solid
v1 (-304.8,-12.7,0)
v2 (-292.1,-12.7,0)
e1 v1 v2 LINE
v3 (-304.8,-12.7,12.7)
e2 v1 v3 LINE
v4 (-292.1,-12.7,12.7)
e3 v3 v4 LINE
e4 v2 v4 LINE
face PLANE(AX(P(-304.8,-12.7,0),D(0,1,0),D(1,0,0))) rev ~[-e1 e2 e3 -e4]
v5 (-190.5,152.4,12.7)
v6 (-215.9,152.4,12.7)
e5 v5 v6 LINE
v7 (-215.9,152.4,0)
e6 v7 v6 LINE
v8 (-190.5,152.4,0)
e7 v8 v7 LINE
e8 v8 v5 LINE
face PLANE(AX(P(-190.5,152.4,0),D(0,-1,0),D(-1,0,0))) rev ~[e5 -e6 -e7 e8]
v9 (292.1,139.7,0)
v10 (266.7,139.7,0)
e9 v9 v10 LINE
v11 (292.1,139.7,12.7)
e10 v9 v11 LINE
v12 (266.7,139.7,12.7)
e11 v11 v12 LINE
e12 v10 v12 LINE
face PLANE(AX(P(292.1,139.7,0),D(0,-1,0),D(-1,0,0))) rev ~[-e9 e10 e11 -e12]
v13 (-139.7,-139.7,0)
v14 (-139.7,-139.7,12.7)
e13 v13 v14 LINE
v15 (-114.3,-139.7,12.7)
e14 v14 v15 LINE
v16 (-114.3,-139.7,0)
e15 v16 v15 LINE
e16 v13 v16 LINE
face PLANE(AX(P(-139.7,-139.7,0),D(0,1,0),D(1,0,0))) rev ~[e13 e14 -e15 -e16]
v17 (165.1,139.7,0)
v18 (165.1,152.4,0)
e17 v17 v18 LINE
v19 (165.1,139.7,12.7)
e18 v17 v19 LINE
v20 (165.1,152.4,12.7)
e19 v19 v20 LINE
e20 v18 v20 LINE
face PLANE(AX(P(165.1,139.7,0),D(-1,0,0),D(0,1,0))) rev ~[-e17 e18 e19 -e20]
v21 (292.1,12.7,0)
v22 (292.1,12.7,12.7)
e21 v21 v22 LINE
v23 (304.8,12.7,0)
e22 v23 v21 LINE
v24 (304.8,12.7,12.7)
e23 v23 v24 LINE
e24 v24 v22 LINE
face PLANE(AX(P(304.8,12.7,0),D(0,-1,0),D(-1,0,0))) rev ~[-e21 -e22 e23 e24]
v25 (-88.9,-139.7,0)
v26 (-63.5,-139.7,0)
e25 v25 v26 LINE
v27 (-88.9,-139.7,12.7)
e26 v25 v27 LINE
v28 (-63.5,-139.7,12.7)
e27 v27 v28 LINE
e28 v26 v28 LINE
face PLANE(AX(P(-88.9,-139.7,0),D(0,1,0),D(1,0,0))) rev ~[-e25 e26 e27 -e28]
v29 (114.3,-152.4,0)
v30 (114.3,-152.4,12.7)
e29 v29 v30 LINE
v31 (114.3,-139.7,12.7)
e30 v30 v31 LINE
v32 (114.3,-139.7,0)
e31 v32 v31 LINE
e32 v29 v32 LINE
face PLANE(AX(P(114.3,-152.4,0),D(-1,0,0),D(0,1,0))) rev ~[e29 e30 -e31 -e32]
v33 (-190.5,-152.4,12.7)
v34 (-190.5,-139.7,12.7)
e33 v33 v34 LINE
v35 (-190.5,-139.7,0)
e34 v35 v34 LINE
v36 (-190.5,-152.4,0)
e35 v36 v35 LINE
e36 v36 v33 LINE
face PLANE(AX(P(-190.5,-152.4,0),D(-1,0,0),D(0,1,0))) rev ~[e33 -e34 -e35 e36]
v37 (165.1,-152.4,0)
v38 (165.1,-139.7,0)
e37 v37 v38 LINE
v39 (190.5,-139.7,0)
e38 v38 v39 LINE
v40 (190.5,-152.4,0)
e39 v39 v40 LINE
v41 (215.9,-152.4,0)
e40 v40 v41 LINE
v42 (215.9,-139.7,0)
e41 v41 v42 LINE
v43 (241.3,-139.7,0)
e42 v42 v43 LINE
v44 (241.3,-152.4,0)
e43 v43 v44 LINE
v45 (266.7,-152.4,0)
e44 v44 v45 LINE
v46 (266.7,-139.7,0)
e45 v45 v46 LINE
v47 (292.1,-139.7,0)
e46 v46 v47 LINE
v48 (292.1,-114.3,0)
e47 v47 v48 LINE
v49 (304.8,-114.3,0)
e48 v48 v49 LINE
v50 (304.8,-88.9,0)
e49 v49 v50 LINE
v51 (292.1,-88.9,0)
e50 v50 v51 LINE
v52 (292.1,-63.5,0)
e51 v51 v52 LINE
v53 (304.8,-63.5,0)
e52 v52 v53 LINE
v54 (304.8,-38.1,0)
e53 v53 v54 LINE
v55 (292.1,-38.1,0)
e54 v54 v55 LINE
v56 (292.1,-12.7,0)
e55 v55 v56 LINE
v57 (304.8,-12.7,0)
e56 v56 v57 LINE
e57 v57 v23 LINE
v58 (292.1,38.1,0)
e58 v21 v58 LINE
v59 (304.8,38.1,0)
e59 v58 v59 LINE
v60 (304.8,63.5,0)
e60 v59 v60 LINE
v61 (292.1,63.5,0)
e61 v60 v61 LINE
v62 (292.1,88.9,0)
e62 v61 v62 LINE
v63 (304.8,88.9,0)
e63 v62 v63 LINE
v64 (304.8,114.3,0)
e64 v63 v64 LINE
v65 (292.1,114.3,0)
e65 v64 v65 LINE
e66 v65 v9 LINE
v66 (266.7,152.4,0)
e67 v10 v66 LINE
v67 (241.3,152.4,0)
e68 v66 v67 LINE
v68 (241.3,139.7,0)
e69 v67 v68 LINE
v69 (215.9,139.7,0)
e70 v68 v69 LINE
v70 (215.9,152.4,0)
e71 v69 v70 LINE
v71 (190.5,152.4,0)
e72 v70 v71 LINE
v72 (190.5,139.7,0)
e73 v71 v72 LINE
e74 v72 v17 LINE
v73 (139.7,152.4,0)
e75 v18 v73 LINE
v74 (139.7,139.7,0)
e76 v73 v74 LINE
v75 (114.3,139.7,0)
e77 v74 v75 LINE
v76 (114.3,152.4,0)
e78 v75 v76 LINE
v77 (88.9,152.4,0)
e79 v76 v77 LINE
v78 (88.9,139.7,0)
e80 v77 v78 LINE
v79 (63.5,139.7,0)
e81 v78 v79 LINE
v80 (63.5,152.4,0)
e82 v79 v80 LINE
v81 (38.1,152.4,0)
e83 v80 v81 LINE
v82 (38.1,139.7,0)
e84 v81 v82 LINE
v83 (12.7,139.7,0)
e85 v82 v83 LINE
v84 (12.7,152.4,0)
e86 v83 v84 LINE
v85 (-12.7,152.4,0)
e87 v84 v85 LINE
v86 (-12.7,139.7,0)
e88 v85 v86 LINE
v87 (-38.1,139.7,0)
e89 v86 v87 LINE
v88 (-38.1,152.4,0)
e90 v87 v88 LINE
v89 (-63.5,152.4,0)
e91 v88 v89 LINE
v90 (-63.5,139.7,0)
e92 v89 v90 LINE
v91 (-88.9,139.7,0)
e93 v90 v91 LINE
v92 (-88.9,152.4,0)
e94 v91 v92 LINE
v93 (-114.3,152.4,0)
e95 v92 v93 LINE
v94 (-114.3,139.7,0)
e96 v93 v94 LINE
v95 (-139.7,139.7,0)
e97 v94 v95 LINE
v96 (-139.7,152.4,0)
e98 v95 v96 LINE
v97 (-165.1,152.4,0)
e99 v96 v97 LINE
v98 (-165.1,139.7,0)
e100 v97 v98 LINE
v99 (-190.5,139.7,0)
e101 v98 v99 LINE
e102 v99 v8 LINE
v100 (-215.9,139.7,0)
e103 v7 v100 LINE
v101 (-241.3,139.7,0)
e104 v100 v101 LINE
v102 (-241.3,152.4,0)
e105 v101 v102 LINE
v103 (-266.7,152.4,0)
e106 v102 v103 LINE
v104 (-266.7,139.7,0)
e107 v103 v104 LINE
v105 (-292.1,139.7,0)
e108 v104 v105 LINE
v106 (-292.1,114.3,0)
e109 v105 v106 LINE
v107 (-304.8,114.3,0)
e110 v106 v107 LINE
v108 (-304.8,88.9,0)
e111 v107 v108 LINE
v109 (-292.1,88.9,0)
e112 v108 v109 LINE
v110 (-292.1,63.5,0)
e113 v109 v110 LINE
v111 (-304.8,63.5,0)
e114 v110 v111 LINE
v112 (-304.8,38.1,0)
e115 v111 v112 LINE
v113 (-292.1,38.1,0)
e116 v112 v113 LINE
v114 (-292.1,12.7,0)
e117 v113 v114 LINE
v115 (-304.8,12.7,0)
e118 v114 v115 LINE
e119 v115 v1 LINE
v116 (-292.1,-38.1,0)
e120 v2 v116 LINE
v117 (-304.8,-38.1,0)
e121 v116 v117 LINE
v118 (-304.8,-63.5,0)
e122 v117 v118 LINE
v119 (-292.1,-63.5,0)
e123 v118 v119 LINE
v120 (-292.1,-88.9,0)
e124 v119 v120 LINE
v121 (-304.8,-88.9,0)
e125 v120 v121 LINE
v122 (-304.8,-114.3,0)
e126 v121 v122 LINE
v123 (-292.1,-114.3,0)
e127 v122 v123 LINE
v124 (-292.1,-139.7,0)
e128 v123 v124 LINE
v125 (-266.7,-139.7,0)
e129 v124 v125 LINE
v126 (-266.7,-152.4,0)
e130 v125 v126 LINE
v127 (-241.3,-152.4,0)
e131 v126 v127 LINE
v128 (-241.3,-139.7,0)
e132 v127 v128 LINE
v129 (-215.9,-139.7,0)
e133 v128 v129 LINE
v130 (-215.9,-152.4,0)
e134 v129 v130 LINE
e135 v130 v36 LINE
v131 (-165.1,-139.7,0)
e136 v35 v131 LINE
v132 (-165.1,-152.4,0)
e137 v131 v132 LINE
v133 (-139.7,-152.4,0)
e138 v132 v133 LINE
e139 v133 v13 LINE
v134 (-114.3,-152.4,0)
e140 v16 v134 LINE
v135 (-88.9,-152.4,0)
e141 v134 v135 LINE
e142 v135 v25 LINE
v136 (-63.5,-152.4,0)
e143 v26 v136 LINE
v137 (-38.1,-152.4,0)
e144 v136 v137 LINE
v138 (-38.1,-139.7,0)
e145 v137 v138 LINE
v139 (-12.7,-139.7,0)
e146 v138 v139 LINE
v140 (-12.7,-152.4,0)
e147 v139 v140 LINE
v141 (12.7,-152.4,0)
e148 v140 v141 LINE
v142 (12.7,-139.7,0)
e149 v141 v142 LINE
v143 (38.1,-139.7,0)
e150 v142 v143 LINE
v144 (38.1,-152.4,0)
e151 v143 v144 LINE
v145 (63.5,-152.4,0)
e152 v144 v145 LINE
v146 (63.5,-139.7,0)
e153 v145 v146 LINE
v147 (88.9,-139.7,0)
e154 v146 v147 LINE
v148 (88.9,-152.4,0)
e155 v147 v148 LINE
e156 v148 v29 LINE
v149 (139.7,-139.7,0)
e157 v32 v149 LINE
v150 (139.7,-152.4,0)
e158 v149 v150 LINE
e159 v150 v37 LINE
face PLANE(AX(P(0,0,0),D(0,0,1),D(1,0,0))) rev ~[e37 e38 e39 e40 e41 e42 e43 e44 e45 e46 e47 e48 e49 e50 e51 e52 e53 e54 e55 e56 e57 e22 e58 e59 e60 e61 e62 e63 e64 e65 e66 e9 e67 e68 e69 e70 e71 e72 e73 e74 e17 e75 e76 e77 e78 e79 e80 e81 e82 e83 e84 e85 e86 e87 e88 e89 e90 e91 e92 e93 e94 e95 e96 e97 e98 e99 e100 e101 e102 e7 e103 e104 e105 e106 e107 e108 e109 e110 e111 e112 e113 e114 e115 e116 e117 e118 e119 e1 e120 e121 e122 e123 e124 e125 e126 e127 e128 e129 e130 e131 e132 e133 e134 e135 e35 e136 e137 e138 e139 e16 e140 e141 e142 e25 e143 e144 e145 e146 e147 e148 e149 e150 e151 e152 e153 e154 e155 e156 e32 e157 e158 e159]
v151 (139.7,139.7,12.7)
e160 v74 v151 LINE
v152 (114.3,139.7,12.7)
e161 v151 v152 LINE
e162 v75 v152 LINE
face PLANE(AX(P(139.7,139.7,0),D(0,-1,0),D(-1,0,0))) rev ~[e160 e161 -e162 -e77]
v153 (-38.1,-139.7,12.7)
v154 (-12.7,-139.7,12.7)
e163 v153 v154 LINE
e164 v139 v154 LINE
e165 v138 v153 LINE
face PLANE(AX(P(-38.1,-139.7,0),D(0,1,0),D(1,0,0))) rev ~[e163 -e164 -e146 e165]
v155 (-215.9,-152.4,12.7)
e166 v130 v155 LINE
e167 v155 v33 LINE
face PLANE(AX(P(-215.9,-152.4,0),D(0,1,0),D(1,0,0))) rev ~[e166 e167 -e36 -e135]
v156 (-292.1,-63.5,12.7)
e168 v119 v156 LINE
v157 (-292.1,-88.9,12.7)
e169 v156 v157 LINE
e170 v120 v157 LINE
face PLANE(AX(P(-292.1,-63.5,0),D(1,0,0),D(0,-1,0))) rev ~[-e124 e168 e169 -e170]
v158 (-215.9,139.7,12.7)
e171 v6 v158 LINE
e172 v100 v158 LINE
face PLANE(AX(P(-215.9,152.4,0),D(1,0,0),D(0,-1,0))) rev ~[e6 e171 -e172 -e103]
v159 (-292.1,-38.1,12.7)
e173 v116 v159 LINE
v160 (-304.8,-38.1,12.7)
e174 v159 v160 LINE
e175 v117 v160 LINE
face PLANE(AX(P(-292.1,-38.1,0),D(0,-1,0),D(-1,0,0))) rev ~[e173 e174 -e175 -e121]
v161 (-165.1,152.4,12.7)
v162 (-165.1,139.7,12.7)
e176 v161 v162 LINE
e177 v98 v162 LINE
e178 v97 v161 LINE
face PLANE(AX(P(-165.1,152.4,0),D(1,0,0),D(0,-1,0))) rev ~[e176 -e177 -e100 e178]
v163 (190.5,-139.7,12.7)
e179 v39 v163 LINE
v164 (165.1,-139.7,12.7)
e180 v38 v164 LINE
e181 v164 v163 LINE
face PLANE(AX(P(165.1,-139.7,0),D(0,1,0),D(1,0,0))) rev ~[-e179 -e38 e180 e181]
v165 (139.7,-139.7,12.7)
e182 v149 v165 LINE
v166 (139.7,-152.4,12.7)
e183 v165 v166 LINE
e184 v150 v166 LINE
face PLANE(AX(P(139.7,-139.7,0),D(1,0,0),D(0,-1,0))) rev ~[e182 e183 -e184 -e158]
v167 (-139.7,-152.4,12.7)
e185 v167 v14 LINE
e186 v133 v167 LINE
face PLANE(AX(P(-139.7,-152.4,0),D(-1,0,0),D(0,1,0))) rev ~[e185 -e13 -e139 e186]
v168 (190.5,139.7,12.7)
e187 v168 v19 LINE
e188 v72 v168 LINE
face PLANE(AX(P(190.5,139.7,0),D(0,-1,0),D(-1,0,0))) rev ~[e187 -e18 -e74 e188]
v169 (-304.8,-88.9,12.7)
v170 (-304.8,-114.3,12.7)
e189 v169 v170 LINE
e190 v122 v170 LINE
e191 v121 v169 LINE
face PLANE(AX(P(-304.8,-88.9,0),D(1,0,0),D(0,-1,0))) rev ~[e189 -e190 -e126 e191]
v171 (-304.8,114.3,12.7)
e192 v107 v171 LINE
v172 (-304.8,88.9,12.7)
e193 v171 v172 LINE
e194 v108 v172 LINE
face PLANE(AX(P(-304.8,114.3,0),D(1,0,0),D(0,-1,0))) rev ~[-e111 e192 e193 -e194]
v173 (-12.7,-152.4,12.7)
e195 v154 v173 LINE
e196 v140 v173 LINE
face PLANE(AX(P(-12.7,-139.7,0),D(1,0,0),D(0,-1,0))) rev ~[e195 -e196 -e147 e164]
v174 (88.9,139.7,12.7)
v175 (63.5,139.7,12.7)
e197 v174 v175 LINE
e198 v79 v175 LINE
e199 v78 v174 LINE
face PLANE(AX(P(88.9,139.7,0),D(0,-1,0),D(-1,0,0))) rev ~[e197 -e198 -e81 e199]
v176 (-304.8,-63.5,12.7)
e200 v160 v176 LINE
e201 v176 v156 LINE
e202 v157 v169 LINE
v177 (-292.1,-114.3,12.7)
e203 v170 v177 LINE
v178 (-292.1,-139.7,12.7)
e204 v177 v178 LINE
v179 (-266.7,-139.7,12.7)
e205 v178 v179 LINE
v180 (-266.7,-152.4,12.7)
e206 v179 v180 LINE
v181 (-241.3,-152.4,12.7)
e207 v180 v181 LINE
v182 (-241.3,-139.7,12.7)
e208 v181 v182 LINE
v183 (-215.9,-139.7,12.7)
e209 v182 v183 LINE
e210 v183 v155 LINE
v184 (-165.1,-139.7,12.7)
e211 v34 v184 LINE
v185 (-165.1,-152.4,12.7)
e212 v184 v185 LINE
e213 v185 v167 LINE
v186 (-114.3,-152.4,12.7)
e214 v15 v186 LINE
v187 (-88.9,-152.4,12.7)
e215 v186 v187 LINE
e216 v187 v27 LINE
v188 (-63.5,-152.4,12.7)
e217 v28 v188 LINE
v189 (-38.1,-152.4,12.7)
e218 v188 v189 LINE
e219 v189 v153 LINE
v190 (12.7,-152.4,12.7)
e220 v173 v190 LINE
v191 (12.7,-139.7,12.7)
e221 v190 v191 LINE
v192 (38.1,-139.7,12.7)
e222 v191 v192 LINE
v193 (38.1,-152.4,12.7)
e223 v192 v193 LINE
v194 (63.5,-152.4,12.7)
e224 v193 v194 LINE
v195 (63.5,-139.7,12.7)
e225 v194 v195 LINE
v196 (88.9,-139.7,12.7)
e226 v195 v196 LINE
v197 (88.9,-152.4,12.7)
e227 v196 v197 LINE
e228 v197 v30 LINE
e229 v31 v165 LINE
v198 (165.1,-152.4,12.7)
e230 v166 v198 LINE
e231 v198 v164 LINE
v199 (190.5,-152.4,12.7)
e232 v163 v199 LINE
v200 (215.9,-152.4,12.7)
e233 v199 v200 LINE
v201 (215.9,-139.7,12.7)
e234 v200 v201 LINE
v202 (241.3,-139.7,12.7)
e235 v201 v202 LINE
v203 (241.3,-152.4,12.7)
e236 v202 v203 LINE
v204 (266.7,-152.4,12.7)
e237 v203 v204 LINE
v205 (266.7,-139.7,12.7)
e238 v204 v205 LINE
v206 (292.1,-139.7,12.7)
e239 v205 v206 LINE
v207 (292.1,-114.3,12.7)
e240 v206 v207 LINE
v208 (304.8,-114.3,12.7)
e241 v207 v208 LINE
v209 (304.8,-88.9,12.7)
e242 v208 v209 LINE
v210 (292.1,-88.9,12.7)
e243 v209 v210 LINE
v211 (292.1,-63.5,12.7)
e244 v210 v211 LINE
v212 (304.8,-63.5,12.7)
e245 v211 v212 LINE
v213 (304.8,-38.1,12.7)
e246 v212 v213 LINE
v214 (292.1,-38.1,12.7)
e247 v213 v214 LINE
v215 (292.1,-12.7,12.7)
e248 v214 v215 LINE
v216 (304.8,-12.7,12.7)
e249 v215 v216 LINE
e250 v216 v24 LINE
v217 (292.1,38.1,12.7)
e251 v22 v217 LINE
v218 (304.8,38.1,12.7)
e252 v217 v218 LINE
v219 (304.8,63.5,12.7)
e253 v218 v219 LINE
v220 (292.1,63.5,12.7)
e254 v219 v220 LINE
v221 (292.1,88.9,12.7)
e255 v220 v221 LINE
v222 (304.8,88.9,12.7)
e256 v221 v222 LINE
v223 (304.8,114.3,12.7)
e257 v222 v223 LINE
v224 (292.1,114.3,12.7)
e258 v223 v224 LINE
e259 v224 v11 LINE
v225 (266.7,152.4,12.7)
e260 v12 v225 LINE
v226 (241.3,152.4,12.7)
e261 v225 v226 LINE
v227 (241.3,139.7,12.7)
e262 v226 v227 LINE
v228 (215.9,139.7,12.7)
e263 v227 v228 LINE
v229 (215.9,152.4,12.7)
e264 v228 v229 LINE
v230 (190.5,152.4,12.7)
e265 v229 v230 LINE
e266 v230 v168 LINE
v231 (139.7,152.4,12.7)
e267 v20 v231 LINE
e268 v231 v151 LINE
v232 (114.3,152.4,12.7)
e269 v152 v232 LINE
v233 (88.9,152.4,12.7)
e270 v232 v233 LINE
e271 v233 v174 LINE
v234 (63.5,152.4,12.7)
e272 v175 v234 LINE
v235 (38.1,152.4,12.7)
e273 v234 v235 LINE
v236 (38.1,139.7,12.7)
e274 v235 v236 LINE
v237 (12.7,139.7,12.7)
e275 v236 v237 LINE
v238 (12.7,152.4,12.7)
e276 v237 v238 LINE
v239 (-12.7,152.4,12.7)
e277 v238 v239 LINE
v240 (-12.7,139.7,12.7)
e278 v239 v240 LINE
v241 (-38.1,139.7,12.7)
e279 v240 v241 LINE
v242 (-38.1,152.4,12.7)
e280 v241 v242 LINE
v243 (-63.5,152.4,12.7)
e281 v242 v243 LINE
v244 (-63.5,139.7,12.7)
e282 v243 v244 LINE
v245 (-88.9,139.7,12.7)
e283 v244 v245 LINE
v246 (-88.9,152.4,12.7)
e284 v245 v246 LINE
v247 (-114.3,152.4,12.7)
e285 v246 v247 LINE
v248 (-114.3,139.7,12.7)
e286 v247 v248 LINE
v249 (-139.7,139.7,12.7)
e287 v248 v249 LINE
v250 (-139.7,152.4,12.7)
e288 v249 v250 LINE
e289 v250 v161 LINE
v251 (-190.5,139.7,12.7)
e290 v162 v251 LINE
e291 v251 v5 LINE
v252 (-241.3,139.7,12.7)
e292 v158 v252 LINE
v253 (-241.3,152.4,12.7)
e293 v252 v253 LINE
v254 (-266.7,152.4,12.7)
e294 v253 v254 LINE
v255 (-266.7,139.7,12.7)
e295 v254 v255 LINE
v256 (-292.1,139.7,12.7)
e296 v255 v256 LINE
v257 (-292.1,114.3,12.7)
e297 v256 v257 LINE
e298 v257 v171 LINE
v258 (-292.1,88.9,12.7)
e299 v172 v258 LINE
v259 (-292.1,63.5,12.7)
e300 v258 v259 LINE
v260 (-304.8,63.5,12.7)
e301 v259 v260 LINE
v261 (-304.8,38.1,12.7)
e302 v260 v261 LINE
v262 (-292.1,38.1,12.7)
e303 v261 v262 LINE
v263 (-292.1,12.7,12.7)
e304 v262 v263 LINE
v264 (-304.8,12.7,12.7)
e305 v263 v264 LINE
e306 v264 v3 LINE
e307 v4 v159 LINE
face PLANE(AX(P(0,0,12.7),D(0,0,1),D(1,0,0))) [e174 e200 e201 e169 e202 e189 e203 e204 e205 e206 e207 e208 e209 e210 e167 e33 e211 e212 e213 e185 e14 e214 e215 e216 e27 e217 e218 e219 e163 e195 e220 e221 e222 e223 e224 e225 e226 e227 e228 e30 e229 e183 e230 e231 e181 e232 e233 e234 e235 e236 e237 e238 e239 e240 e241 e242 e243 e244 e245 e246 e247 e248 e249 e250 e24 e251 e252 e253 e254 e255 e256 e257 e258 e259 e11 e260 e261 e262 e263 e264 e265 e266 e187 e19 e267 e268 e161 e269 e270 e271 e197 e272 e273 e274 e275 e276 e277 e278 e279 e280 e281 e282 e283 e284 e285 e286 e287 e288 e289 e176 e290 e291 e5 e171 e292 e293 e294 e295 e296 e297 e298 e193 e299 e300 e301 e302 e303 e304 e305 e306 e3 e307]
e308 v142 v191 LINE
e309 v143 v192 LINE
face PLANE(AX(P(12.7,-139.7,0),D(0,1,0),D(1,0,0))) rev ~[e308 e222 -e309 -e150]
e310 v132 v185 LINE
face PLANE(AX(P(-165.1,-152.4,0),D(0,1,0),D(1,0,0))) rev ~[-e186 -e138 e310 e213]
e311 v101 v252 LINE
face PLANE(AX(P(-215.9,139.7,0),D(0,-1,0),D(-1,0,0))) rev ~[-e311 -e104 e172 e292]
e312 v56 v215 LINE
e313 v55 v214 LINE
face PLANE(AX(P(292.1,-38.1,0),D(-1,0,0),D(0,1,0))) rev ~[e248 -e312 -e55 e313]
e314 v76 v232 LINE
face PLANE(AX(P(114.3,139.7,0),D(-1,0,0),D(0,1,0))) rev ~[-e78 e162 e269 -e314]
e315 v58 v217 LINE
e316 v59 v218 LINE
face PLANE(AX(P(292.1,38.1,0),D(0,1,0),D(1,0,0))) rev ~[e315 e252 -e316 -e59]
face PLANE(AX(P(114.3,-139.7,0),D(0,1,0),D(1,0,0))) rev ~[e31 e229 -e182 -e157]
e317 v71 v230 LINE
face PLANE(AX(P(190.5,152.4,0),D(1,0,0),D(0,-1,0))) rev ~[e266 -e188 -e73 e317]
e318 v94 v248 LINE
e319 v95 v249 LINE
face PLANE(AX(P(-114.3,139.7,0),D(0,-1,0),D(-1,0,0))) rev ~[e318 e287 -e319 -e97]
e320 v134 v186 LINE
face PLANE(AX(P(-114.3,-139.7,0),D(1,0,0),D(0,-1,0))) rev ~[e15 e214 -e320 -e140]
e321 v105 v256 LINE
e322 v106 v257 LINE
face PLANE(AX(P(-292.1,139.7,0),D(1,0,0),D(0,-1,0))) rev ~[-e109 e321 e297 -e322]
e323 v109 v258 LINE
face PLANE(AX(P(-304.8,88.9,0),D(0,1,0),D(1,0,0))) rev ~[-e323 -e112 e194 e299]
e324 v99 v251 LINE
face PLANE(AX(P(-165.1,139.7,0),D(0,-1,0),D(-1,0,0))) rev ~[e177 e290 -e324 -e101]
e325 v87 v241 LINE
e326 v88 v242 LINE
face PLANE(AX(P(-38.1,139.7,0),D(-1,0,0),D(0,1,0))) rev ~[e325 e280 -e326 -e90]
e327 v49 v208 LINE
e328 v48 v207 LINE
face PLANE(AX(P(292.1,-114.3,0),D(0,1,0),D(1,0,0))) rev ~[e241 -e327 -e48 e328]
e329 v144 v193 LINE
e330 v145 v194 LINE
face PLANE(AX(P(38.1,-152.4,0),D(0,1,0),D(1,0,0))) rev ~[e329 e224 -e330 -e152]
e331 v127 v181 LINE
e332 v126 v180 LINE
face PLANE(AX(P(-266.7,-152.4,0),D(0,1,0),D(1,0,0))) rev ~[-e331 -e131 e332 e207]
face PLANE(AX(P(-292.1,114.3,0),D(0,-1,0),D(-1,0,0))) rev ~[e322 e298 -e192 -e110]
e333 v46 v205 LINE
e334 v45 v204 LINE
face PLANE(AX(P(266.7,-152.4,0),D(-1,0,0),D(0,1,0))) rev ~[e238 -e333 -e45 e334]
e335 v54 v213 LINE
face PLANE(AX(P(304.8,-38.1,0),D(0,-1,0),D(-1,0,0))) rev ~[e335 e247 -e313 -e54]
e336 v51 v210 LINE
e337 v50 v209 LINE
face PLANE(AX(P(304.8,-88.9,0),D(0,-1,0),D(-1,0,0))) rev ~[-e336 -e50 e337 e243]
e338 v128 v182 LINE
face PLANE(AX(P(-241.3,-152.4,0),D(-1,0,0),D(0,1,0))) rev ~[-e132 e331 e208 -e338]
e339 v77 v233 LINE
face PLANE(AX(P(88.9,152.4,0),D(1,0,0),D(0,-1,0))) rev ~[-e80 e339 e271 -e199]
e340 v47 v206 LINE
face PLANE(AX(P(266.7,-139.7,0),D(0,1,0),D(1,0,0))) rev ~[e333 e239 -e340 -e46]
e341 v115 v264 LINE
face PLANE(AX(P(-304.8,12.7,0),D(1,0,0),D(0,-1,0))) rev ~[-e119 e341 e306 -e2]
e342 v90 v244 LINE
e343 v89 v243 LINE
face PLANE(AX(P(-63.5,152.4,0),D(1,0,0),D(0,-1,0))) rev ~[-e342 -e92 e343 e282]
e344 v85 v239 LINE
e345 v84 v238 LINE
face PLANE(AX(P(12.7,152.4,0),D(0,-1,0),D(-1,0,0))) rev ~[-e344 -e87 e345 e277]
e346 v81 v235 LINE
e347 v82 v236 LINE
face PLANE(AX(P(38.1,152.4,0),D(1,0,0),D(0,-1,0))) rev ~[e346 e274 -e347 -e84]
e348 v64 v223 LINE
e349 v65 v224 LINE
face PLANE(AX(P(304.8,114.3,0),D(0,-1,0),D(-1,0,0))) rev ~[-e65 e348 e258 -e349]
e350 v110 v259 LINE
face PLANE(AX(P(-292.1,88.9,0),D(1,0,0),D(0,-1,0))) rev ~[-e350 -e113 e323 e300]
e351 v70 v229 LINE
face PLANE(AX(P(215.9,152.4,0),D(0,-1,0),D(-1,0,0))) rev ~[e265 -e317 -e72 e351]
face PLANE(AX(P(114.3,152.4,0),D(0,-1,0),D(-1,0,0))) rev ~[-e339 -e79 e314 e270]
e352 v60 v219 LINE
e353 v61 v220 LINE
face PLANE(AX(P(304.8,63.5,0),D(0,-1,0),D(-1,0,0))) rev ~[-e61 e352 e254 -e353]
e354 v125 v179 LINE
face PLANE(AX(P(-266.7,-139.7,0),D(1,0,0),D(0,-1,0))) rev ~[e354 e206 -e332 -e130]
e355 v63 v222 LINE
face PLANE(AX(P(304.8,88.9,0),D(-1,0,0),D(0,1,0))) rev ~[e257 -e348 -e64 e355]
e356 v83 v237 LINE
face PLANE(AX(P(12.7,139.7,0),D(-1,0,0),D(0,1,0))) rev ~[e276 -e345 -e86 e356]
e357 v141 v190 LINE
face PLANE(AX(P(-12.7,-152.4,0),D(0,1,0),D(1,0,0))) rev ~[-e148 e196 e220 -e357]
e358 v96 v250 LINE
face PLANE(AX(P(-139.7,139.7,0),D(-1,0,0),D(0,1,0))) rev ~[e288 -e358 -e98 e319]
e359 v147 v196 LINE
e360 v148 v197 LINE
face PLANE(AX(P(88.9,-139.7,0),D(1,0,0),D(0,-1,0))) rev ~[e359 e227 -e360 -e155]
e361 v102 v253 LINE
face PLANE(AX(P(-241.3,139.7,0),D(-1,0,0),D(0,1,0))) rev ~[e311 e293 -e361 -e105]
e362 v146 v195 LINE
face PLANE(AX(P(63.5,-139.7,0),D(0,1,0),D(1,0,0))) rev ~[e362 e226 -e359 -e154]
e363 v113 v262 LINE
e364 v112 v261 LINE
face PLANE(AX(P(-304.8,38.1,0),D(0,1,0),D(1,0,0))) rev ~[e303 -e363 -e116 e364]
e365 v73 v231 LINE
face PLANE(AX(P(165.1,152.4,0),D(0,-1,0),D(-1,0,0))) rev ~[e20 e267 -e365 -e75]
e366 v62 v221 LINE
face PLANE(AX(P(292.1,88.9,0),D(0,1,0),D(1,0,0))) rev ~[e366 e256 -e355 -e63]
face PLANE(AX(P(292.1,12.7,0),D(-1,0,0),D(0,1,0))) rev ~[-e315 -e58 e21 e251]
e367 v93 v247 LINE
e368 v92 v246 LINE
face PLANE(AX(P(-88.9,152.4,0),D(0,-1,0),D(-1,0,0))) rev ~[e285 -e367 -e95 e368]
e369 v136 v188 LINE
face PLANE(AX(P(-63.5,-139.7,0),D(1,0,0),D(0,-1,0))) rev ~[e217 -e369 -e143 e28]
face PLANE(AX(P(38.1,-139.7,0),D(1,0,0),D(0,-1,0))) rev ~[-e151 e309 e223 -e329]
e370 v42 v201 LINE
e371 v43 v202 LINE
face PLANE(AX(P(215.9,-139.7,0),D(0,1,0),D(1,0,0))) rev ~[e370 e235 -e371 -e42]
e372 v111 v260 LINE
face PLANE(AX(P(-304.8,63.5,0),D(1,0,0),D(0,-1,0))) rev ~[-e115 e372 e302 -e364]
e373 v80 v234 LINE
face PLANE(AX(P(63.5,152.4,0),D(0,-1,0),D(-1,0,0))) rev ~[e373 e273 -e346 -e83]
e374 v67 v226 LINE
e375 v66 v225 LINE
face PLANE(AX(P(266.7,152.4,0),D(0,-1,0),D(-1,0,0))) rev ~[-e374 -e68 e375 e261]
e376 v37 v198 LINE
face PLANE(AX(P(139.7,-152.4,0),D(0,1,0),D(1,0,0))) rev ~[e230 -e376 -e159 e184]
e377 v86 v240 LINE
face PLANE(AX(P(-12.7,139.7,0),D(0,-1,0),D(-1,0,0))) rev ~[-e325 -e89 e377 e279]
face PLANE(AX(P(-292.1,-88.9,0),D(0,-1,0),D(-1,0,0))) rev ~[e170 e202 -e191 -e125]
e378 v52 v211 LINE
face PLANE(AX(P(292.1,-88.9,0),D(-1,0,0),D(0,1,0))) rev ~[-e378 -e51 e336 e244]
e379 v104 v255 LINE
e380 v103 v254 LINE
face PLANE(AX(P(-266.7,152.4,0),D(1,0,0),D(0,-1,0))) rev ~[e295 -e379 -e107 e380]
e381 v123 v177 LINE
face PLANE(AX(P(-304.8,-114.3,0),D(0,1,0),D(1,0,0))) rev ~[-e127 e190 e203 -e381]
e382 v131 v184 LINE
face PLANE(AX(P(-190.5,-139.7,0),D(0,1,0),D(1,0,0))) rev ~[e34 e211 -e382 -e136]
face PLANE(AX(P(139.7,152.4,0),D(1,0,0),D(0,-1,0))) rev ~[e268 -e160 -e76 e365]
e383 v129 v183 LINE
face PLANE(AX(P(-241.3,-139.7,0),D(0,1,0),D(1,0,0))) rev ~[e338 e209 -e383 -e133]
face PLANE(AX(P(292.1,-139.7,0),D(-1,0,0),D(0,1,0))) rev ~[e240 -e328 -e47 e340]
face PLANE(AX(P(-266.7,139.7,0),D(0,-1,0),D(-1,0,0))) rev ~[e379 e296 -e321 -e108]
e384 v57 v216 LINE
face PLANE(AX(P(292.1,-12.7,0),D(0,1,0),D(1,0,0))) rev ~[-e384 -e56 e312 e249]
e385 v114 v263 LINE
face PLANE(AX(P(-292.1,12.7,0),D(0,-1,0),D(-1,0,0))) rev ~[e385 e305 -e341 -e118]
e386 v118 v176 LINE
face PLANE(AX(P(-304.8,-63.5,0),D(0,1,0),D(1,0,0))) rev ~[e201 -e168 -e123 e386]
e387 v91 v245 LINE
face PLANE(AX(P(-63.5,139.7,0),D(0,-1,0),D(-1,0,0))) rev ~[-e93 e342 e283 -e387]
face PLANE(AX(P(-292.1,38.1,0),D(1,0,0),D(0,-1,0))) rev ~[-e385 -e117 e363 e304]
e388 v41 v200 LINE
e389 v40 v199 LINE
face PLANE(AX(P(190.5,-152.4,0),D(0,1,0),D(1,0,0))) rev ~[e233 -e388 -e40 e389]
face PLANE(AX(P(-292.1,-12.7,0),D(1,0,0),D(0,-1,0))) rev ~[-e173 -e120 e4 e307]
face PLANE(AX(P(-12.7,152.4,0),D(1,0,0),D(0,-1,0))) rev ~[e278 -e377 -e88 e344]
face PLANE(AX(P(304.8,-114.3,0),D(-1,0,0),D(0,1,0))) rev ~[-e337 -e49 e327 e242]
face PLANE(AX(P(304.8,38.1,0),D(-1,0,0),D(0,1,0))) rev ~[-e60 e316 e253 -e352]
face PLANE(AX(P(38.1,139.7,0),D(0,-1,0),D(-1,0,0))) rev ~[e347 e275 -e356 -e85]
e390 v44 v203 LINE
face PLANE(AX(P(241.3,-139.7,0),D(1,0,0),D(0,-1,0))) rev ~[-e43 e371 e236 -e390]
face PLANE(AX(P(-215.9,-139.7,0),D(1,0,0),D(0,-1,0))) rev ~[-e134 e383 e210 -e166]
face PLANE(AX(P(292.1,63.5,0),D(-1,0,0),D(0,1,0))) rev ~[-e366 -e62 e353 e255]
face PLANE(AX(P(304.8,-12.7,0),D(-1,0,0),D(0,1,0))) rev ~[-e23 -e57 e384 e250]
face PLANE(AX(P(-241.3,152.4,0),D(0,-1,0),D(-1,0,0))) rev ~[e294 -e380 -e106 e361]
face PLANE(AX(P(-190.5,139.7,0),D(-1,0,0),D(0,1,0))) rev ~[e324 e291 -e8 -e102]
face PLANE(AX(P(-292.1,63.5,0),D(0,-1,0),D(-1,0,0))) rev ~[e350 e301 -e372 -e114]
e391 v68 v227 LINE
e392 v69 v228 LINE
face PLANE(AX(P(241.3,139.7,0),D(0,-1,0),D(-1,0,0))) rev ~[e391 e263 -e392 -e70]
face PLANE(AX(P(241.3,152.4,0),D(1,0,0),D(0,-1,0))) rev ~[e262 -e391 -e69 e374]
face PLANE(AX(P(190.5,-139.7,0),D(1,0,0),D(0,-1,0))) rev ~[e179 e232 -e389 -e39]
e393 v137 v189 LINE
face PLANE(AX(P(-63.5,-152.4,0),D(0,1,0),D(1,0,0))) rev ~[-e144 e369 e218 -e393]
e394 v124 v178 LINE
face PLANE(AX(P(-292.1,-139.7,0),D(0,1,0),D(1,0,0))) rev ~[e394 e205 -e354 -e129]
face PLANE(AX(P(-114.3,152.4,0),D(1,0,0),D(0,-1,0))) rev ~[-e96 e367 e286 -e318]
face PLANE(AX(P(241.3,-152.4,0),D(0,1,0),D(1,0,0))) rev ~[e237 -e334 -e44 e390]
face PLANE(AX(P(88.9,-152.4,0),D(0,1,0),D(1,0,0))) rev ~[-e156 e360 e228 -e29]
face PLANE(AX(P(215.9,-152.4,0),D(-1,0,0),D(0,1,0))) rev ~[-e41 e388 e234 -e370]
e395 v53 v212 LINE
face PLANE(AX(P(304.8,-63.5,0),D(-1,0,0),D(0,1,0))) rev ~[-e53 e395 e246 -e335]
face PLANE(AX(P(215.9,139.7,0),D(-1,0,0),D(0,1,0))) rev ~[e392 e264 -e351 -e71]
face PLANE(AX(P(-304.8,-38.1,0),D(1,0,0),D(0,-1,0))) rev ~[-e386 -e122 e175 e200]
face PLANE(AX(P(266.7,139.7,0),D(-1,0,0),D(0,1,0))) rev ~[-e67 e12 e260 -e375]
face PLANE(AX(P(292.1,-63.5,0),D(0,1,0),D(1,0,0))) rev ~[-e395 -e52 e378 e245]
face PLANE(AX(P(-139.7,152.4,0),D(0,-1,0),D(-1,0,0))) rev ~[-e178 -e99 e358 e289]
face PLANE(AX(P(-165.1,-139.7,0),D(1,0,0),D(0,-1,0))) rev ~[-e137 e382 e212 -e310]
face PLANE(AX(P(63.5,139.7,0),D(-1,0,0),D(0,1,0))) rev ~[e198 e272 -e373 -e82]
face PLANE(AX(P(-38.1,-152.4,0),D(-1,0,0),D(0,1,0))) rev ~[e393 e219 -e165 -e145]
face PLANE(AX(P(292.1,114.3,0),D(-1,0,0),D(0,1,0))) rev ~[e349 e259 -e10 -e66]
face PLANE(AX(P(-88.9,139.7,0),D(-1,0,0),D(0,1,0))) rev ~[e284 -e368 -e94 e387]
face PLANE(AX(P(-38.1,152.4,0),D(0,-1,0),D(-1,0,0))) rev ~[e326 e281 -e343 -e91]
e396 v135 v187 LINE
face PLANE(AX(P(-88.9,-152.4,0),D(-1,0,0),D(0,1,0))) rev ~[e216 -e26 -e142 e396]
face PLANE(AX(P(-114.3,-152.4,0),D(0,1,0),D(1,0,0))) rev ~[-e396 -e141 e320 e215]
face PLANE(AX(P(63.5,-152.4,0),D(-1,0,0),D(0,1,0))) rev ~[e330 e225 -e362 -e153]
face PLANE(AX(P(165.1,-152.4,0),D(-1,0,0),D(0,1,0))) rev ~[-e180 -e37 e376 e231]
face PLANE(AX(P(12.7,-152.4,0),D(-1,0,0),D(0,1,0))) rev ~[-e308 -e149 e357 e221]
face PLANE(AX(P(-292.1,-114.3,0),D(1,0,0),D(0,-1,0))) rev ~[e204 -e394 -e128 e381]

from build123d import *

# Parameters (mm, degrees)
F1_DEPTH = 12.7


with BuildPart() as f1:
    # F0 (on Top) → F1 (new body)
    with BuildSketch(Plane.XY):
        Polygon((266.7, 139.7), (266.7, 152.4), (241.3, 152.4), (241.3, 139.7), (215.9, 139.7), (215.9, 152.4), (190.5, 152.4), (190.5, 139.7), (165.1, 139.7), (165.1, 152.4), (139.7, 152.4), (139.7, 139.7), (114.3, 139.7), (114.3, 152.4), (88.9, 152.4), (88.9, 139.7), (63.5, 139.7), (63.5, 152.4), (38.1, 152.4), (38.1, 139.7), (12.7, 139.7), (12.7, 152.4), (-12.7, 152.4), (-12.7, 139.7), (-38.1, 139.7), (-38.1, 152.4), (-63.5, 152.4), (-63.5, 139.7), (-88.9, 139.7), (-88.9, 152.4), (-114.3, 152.4), (-114.3, 139.7), (-139.7, 139.7), (-139.7, 152.4), (-165.1, 152.4), (-165.1, 139.7), (-190.5, 139.7), (-190.5, 152.4), (-215.9, 152.4), (-215.9, 139.7), (-241.3, 139.7), (-241.3, 152.4), (-266.7, 152.4), (-266.7, 139.7), (-292.1, 139.7), (-292.1, 114.3), (-304.8, 114.3), (-304.8, 88.9), (-292.1, 88.9), (-292.1, 63.5), (-304.8, 63.5), (-304.8, 38.1), (-292.1, 38.1), (-292.1, 12.7), (-304.8, 12.7), (-304.8, -12.7), (-292.1, -12.7), (-292.1, -38.1), (-304.8, -38.1), (-304.8, -63.5), (-292.1, -63.5), (-292.1, -88.9), (-304.8, -88.9), (-304.8, -114.3), (-292.1, -114.3), (-292.1, -139.7), (-266.7, -139.7), (-266.7, -152.4), (-241.3, -152.4), (-241.3, -139.7), (-215.9, -139.7), (-215.9, -152.4), (-190.5, -152.4), (-190.5, -139.7), (-165.1, -139.7), (-165.1, -152.4), (-139.7, -152.4), (-139.7, -139.7), (-114.3, -139.7), (-114.3, -152.4), (-88.9, -152.4), (-88.9, -139.7), (-63.5, -139.7), (-63.5, -152.4), (-38.1, -152.4), (-38.1, -139.7), (-12.7, -139.7), (-12.7, -152.4), (12.7, -152.4), (12.7, -139.7), (38.1, -139.7), (38.1, -152.4), (63.5, -152.4), (63.5, -139.7), (88.9, -139.7), (88.9, -152.4), (114.3, -152.4), (114.3, -139.7), (139.7, -139.7), (139.7, -152.4), (165.1, -152.4), (165.1, -139.7), (190.5, -139.7), (190.5, -152.4), (215.9, -152.4), (215.9, -139.7), (241.3, -139.7), (241.3, -152.4), (266.7, -152.4), (266.7, -139.7), (292.1, -139.7), (292.1, -114.3), (304.8, -114.3), (304.8, -88.9), (292.1, -88.9), (292.1, -63.5), (304.8, -63.5), (304.8, -38.1), (292.1, -38.1), (292.1, -12.7), (304.8, -12.7), (304.8, 12.7), (292.1, 12.7), (292.1, 38.1), (304.8, 38.1), (304.8, 63.5), (292.1, 63.5), (292.1, 88.9), (304.8, 88.9), (304.8, 114.3), (292.1, 114.3), (292.1, 139.7), align=None)
    extrude(amount=F1_DEPTH)


solid = f1.part
